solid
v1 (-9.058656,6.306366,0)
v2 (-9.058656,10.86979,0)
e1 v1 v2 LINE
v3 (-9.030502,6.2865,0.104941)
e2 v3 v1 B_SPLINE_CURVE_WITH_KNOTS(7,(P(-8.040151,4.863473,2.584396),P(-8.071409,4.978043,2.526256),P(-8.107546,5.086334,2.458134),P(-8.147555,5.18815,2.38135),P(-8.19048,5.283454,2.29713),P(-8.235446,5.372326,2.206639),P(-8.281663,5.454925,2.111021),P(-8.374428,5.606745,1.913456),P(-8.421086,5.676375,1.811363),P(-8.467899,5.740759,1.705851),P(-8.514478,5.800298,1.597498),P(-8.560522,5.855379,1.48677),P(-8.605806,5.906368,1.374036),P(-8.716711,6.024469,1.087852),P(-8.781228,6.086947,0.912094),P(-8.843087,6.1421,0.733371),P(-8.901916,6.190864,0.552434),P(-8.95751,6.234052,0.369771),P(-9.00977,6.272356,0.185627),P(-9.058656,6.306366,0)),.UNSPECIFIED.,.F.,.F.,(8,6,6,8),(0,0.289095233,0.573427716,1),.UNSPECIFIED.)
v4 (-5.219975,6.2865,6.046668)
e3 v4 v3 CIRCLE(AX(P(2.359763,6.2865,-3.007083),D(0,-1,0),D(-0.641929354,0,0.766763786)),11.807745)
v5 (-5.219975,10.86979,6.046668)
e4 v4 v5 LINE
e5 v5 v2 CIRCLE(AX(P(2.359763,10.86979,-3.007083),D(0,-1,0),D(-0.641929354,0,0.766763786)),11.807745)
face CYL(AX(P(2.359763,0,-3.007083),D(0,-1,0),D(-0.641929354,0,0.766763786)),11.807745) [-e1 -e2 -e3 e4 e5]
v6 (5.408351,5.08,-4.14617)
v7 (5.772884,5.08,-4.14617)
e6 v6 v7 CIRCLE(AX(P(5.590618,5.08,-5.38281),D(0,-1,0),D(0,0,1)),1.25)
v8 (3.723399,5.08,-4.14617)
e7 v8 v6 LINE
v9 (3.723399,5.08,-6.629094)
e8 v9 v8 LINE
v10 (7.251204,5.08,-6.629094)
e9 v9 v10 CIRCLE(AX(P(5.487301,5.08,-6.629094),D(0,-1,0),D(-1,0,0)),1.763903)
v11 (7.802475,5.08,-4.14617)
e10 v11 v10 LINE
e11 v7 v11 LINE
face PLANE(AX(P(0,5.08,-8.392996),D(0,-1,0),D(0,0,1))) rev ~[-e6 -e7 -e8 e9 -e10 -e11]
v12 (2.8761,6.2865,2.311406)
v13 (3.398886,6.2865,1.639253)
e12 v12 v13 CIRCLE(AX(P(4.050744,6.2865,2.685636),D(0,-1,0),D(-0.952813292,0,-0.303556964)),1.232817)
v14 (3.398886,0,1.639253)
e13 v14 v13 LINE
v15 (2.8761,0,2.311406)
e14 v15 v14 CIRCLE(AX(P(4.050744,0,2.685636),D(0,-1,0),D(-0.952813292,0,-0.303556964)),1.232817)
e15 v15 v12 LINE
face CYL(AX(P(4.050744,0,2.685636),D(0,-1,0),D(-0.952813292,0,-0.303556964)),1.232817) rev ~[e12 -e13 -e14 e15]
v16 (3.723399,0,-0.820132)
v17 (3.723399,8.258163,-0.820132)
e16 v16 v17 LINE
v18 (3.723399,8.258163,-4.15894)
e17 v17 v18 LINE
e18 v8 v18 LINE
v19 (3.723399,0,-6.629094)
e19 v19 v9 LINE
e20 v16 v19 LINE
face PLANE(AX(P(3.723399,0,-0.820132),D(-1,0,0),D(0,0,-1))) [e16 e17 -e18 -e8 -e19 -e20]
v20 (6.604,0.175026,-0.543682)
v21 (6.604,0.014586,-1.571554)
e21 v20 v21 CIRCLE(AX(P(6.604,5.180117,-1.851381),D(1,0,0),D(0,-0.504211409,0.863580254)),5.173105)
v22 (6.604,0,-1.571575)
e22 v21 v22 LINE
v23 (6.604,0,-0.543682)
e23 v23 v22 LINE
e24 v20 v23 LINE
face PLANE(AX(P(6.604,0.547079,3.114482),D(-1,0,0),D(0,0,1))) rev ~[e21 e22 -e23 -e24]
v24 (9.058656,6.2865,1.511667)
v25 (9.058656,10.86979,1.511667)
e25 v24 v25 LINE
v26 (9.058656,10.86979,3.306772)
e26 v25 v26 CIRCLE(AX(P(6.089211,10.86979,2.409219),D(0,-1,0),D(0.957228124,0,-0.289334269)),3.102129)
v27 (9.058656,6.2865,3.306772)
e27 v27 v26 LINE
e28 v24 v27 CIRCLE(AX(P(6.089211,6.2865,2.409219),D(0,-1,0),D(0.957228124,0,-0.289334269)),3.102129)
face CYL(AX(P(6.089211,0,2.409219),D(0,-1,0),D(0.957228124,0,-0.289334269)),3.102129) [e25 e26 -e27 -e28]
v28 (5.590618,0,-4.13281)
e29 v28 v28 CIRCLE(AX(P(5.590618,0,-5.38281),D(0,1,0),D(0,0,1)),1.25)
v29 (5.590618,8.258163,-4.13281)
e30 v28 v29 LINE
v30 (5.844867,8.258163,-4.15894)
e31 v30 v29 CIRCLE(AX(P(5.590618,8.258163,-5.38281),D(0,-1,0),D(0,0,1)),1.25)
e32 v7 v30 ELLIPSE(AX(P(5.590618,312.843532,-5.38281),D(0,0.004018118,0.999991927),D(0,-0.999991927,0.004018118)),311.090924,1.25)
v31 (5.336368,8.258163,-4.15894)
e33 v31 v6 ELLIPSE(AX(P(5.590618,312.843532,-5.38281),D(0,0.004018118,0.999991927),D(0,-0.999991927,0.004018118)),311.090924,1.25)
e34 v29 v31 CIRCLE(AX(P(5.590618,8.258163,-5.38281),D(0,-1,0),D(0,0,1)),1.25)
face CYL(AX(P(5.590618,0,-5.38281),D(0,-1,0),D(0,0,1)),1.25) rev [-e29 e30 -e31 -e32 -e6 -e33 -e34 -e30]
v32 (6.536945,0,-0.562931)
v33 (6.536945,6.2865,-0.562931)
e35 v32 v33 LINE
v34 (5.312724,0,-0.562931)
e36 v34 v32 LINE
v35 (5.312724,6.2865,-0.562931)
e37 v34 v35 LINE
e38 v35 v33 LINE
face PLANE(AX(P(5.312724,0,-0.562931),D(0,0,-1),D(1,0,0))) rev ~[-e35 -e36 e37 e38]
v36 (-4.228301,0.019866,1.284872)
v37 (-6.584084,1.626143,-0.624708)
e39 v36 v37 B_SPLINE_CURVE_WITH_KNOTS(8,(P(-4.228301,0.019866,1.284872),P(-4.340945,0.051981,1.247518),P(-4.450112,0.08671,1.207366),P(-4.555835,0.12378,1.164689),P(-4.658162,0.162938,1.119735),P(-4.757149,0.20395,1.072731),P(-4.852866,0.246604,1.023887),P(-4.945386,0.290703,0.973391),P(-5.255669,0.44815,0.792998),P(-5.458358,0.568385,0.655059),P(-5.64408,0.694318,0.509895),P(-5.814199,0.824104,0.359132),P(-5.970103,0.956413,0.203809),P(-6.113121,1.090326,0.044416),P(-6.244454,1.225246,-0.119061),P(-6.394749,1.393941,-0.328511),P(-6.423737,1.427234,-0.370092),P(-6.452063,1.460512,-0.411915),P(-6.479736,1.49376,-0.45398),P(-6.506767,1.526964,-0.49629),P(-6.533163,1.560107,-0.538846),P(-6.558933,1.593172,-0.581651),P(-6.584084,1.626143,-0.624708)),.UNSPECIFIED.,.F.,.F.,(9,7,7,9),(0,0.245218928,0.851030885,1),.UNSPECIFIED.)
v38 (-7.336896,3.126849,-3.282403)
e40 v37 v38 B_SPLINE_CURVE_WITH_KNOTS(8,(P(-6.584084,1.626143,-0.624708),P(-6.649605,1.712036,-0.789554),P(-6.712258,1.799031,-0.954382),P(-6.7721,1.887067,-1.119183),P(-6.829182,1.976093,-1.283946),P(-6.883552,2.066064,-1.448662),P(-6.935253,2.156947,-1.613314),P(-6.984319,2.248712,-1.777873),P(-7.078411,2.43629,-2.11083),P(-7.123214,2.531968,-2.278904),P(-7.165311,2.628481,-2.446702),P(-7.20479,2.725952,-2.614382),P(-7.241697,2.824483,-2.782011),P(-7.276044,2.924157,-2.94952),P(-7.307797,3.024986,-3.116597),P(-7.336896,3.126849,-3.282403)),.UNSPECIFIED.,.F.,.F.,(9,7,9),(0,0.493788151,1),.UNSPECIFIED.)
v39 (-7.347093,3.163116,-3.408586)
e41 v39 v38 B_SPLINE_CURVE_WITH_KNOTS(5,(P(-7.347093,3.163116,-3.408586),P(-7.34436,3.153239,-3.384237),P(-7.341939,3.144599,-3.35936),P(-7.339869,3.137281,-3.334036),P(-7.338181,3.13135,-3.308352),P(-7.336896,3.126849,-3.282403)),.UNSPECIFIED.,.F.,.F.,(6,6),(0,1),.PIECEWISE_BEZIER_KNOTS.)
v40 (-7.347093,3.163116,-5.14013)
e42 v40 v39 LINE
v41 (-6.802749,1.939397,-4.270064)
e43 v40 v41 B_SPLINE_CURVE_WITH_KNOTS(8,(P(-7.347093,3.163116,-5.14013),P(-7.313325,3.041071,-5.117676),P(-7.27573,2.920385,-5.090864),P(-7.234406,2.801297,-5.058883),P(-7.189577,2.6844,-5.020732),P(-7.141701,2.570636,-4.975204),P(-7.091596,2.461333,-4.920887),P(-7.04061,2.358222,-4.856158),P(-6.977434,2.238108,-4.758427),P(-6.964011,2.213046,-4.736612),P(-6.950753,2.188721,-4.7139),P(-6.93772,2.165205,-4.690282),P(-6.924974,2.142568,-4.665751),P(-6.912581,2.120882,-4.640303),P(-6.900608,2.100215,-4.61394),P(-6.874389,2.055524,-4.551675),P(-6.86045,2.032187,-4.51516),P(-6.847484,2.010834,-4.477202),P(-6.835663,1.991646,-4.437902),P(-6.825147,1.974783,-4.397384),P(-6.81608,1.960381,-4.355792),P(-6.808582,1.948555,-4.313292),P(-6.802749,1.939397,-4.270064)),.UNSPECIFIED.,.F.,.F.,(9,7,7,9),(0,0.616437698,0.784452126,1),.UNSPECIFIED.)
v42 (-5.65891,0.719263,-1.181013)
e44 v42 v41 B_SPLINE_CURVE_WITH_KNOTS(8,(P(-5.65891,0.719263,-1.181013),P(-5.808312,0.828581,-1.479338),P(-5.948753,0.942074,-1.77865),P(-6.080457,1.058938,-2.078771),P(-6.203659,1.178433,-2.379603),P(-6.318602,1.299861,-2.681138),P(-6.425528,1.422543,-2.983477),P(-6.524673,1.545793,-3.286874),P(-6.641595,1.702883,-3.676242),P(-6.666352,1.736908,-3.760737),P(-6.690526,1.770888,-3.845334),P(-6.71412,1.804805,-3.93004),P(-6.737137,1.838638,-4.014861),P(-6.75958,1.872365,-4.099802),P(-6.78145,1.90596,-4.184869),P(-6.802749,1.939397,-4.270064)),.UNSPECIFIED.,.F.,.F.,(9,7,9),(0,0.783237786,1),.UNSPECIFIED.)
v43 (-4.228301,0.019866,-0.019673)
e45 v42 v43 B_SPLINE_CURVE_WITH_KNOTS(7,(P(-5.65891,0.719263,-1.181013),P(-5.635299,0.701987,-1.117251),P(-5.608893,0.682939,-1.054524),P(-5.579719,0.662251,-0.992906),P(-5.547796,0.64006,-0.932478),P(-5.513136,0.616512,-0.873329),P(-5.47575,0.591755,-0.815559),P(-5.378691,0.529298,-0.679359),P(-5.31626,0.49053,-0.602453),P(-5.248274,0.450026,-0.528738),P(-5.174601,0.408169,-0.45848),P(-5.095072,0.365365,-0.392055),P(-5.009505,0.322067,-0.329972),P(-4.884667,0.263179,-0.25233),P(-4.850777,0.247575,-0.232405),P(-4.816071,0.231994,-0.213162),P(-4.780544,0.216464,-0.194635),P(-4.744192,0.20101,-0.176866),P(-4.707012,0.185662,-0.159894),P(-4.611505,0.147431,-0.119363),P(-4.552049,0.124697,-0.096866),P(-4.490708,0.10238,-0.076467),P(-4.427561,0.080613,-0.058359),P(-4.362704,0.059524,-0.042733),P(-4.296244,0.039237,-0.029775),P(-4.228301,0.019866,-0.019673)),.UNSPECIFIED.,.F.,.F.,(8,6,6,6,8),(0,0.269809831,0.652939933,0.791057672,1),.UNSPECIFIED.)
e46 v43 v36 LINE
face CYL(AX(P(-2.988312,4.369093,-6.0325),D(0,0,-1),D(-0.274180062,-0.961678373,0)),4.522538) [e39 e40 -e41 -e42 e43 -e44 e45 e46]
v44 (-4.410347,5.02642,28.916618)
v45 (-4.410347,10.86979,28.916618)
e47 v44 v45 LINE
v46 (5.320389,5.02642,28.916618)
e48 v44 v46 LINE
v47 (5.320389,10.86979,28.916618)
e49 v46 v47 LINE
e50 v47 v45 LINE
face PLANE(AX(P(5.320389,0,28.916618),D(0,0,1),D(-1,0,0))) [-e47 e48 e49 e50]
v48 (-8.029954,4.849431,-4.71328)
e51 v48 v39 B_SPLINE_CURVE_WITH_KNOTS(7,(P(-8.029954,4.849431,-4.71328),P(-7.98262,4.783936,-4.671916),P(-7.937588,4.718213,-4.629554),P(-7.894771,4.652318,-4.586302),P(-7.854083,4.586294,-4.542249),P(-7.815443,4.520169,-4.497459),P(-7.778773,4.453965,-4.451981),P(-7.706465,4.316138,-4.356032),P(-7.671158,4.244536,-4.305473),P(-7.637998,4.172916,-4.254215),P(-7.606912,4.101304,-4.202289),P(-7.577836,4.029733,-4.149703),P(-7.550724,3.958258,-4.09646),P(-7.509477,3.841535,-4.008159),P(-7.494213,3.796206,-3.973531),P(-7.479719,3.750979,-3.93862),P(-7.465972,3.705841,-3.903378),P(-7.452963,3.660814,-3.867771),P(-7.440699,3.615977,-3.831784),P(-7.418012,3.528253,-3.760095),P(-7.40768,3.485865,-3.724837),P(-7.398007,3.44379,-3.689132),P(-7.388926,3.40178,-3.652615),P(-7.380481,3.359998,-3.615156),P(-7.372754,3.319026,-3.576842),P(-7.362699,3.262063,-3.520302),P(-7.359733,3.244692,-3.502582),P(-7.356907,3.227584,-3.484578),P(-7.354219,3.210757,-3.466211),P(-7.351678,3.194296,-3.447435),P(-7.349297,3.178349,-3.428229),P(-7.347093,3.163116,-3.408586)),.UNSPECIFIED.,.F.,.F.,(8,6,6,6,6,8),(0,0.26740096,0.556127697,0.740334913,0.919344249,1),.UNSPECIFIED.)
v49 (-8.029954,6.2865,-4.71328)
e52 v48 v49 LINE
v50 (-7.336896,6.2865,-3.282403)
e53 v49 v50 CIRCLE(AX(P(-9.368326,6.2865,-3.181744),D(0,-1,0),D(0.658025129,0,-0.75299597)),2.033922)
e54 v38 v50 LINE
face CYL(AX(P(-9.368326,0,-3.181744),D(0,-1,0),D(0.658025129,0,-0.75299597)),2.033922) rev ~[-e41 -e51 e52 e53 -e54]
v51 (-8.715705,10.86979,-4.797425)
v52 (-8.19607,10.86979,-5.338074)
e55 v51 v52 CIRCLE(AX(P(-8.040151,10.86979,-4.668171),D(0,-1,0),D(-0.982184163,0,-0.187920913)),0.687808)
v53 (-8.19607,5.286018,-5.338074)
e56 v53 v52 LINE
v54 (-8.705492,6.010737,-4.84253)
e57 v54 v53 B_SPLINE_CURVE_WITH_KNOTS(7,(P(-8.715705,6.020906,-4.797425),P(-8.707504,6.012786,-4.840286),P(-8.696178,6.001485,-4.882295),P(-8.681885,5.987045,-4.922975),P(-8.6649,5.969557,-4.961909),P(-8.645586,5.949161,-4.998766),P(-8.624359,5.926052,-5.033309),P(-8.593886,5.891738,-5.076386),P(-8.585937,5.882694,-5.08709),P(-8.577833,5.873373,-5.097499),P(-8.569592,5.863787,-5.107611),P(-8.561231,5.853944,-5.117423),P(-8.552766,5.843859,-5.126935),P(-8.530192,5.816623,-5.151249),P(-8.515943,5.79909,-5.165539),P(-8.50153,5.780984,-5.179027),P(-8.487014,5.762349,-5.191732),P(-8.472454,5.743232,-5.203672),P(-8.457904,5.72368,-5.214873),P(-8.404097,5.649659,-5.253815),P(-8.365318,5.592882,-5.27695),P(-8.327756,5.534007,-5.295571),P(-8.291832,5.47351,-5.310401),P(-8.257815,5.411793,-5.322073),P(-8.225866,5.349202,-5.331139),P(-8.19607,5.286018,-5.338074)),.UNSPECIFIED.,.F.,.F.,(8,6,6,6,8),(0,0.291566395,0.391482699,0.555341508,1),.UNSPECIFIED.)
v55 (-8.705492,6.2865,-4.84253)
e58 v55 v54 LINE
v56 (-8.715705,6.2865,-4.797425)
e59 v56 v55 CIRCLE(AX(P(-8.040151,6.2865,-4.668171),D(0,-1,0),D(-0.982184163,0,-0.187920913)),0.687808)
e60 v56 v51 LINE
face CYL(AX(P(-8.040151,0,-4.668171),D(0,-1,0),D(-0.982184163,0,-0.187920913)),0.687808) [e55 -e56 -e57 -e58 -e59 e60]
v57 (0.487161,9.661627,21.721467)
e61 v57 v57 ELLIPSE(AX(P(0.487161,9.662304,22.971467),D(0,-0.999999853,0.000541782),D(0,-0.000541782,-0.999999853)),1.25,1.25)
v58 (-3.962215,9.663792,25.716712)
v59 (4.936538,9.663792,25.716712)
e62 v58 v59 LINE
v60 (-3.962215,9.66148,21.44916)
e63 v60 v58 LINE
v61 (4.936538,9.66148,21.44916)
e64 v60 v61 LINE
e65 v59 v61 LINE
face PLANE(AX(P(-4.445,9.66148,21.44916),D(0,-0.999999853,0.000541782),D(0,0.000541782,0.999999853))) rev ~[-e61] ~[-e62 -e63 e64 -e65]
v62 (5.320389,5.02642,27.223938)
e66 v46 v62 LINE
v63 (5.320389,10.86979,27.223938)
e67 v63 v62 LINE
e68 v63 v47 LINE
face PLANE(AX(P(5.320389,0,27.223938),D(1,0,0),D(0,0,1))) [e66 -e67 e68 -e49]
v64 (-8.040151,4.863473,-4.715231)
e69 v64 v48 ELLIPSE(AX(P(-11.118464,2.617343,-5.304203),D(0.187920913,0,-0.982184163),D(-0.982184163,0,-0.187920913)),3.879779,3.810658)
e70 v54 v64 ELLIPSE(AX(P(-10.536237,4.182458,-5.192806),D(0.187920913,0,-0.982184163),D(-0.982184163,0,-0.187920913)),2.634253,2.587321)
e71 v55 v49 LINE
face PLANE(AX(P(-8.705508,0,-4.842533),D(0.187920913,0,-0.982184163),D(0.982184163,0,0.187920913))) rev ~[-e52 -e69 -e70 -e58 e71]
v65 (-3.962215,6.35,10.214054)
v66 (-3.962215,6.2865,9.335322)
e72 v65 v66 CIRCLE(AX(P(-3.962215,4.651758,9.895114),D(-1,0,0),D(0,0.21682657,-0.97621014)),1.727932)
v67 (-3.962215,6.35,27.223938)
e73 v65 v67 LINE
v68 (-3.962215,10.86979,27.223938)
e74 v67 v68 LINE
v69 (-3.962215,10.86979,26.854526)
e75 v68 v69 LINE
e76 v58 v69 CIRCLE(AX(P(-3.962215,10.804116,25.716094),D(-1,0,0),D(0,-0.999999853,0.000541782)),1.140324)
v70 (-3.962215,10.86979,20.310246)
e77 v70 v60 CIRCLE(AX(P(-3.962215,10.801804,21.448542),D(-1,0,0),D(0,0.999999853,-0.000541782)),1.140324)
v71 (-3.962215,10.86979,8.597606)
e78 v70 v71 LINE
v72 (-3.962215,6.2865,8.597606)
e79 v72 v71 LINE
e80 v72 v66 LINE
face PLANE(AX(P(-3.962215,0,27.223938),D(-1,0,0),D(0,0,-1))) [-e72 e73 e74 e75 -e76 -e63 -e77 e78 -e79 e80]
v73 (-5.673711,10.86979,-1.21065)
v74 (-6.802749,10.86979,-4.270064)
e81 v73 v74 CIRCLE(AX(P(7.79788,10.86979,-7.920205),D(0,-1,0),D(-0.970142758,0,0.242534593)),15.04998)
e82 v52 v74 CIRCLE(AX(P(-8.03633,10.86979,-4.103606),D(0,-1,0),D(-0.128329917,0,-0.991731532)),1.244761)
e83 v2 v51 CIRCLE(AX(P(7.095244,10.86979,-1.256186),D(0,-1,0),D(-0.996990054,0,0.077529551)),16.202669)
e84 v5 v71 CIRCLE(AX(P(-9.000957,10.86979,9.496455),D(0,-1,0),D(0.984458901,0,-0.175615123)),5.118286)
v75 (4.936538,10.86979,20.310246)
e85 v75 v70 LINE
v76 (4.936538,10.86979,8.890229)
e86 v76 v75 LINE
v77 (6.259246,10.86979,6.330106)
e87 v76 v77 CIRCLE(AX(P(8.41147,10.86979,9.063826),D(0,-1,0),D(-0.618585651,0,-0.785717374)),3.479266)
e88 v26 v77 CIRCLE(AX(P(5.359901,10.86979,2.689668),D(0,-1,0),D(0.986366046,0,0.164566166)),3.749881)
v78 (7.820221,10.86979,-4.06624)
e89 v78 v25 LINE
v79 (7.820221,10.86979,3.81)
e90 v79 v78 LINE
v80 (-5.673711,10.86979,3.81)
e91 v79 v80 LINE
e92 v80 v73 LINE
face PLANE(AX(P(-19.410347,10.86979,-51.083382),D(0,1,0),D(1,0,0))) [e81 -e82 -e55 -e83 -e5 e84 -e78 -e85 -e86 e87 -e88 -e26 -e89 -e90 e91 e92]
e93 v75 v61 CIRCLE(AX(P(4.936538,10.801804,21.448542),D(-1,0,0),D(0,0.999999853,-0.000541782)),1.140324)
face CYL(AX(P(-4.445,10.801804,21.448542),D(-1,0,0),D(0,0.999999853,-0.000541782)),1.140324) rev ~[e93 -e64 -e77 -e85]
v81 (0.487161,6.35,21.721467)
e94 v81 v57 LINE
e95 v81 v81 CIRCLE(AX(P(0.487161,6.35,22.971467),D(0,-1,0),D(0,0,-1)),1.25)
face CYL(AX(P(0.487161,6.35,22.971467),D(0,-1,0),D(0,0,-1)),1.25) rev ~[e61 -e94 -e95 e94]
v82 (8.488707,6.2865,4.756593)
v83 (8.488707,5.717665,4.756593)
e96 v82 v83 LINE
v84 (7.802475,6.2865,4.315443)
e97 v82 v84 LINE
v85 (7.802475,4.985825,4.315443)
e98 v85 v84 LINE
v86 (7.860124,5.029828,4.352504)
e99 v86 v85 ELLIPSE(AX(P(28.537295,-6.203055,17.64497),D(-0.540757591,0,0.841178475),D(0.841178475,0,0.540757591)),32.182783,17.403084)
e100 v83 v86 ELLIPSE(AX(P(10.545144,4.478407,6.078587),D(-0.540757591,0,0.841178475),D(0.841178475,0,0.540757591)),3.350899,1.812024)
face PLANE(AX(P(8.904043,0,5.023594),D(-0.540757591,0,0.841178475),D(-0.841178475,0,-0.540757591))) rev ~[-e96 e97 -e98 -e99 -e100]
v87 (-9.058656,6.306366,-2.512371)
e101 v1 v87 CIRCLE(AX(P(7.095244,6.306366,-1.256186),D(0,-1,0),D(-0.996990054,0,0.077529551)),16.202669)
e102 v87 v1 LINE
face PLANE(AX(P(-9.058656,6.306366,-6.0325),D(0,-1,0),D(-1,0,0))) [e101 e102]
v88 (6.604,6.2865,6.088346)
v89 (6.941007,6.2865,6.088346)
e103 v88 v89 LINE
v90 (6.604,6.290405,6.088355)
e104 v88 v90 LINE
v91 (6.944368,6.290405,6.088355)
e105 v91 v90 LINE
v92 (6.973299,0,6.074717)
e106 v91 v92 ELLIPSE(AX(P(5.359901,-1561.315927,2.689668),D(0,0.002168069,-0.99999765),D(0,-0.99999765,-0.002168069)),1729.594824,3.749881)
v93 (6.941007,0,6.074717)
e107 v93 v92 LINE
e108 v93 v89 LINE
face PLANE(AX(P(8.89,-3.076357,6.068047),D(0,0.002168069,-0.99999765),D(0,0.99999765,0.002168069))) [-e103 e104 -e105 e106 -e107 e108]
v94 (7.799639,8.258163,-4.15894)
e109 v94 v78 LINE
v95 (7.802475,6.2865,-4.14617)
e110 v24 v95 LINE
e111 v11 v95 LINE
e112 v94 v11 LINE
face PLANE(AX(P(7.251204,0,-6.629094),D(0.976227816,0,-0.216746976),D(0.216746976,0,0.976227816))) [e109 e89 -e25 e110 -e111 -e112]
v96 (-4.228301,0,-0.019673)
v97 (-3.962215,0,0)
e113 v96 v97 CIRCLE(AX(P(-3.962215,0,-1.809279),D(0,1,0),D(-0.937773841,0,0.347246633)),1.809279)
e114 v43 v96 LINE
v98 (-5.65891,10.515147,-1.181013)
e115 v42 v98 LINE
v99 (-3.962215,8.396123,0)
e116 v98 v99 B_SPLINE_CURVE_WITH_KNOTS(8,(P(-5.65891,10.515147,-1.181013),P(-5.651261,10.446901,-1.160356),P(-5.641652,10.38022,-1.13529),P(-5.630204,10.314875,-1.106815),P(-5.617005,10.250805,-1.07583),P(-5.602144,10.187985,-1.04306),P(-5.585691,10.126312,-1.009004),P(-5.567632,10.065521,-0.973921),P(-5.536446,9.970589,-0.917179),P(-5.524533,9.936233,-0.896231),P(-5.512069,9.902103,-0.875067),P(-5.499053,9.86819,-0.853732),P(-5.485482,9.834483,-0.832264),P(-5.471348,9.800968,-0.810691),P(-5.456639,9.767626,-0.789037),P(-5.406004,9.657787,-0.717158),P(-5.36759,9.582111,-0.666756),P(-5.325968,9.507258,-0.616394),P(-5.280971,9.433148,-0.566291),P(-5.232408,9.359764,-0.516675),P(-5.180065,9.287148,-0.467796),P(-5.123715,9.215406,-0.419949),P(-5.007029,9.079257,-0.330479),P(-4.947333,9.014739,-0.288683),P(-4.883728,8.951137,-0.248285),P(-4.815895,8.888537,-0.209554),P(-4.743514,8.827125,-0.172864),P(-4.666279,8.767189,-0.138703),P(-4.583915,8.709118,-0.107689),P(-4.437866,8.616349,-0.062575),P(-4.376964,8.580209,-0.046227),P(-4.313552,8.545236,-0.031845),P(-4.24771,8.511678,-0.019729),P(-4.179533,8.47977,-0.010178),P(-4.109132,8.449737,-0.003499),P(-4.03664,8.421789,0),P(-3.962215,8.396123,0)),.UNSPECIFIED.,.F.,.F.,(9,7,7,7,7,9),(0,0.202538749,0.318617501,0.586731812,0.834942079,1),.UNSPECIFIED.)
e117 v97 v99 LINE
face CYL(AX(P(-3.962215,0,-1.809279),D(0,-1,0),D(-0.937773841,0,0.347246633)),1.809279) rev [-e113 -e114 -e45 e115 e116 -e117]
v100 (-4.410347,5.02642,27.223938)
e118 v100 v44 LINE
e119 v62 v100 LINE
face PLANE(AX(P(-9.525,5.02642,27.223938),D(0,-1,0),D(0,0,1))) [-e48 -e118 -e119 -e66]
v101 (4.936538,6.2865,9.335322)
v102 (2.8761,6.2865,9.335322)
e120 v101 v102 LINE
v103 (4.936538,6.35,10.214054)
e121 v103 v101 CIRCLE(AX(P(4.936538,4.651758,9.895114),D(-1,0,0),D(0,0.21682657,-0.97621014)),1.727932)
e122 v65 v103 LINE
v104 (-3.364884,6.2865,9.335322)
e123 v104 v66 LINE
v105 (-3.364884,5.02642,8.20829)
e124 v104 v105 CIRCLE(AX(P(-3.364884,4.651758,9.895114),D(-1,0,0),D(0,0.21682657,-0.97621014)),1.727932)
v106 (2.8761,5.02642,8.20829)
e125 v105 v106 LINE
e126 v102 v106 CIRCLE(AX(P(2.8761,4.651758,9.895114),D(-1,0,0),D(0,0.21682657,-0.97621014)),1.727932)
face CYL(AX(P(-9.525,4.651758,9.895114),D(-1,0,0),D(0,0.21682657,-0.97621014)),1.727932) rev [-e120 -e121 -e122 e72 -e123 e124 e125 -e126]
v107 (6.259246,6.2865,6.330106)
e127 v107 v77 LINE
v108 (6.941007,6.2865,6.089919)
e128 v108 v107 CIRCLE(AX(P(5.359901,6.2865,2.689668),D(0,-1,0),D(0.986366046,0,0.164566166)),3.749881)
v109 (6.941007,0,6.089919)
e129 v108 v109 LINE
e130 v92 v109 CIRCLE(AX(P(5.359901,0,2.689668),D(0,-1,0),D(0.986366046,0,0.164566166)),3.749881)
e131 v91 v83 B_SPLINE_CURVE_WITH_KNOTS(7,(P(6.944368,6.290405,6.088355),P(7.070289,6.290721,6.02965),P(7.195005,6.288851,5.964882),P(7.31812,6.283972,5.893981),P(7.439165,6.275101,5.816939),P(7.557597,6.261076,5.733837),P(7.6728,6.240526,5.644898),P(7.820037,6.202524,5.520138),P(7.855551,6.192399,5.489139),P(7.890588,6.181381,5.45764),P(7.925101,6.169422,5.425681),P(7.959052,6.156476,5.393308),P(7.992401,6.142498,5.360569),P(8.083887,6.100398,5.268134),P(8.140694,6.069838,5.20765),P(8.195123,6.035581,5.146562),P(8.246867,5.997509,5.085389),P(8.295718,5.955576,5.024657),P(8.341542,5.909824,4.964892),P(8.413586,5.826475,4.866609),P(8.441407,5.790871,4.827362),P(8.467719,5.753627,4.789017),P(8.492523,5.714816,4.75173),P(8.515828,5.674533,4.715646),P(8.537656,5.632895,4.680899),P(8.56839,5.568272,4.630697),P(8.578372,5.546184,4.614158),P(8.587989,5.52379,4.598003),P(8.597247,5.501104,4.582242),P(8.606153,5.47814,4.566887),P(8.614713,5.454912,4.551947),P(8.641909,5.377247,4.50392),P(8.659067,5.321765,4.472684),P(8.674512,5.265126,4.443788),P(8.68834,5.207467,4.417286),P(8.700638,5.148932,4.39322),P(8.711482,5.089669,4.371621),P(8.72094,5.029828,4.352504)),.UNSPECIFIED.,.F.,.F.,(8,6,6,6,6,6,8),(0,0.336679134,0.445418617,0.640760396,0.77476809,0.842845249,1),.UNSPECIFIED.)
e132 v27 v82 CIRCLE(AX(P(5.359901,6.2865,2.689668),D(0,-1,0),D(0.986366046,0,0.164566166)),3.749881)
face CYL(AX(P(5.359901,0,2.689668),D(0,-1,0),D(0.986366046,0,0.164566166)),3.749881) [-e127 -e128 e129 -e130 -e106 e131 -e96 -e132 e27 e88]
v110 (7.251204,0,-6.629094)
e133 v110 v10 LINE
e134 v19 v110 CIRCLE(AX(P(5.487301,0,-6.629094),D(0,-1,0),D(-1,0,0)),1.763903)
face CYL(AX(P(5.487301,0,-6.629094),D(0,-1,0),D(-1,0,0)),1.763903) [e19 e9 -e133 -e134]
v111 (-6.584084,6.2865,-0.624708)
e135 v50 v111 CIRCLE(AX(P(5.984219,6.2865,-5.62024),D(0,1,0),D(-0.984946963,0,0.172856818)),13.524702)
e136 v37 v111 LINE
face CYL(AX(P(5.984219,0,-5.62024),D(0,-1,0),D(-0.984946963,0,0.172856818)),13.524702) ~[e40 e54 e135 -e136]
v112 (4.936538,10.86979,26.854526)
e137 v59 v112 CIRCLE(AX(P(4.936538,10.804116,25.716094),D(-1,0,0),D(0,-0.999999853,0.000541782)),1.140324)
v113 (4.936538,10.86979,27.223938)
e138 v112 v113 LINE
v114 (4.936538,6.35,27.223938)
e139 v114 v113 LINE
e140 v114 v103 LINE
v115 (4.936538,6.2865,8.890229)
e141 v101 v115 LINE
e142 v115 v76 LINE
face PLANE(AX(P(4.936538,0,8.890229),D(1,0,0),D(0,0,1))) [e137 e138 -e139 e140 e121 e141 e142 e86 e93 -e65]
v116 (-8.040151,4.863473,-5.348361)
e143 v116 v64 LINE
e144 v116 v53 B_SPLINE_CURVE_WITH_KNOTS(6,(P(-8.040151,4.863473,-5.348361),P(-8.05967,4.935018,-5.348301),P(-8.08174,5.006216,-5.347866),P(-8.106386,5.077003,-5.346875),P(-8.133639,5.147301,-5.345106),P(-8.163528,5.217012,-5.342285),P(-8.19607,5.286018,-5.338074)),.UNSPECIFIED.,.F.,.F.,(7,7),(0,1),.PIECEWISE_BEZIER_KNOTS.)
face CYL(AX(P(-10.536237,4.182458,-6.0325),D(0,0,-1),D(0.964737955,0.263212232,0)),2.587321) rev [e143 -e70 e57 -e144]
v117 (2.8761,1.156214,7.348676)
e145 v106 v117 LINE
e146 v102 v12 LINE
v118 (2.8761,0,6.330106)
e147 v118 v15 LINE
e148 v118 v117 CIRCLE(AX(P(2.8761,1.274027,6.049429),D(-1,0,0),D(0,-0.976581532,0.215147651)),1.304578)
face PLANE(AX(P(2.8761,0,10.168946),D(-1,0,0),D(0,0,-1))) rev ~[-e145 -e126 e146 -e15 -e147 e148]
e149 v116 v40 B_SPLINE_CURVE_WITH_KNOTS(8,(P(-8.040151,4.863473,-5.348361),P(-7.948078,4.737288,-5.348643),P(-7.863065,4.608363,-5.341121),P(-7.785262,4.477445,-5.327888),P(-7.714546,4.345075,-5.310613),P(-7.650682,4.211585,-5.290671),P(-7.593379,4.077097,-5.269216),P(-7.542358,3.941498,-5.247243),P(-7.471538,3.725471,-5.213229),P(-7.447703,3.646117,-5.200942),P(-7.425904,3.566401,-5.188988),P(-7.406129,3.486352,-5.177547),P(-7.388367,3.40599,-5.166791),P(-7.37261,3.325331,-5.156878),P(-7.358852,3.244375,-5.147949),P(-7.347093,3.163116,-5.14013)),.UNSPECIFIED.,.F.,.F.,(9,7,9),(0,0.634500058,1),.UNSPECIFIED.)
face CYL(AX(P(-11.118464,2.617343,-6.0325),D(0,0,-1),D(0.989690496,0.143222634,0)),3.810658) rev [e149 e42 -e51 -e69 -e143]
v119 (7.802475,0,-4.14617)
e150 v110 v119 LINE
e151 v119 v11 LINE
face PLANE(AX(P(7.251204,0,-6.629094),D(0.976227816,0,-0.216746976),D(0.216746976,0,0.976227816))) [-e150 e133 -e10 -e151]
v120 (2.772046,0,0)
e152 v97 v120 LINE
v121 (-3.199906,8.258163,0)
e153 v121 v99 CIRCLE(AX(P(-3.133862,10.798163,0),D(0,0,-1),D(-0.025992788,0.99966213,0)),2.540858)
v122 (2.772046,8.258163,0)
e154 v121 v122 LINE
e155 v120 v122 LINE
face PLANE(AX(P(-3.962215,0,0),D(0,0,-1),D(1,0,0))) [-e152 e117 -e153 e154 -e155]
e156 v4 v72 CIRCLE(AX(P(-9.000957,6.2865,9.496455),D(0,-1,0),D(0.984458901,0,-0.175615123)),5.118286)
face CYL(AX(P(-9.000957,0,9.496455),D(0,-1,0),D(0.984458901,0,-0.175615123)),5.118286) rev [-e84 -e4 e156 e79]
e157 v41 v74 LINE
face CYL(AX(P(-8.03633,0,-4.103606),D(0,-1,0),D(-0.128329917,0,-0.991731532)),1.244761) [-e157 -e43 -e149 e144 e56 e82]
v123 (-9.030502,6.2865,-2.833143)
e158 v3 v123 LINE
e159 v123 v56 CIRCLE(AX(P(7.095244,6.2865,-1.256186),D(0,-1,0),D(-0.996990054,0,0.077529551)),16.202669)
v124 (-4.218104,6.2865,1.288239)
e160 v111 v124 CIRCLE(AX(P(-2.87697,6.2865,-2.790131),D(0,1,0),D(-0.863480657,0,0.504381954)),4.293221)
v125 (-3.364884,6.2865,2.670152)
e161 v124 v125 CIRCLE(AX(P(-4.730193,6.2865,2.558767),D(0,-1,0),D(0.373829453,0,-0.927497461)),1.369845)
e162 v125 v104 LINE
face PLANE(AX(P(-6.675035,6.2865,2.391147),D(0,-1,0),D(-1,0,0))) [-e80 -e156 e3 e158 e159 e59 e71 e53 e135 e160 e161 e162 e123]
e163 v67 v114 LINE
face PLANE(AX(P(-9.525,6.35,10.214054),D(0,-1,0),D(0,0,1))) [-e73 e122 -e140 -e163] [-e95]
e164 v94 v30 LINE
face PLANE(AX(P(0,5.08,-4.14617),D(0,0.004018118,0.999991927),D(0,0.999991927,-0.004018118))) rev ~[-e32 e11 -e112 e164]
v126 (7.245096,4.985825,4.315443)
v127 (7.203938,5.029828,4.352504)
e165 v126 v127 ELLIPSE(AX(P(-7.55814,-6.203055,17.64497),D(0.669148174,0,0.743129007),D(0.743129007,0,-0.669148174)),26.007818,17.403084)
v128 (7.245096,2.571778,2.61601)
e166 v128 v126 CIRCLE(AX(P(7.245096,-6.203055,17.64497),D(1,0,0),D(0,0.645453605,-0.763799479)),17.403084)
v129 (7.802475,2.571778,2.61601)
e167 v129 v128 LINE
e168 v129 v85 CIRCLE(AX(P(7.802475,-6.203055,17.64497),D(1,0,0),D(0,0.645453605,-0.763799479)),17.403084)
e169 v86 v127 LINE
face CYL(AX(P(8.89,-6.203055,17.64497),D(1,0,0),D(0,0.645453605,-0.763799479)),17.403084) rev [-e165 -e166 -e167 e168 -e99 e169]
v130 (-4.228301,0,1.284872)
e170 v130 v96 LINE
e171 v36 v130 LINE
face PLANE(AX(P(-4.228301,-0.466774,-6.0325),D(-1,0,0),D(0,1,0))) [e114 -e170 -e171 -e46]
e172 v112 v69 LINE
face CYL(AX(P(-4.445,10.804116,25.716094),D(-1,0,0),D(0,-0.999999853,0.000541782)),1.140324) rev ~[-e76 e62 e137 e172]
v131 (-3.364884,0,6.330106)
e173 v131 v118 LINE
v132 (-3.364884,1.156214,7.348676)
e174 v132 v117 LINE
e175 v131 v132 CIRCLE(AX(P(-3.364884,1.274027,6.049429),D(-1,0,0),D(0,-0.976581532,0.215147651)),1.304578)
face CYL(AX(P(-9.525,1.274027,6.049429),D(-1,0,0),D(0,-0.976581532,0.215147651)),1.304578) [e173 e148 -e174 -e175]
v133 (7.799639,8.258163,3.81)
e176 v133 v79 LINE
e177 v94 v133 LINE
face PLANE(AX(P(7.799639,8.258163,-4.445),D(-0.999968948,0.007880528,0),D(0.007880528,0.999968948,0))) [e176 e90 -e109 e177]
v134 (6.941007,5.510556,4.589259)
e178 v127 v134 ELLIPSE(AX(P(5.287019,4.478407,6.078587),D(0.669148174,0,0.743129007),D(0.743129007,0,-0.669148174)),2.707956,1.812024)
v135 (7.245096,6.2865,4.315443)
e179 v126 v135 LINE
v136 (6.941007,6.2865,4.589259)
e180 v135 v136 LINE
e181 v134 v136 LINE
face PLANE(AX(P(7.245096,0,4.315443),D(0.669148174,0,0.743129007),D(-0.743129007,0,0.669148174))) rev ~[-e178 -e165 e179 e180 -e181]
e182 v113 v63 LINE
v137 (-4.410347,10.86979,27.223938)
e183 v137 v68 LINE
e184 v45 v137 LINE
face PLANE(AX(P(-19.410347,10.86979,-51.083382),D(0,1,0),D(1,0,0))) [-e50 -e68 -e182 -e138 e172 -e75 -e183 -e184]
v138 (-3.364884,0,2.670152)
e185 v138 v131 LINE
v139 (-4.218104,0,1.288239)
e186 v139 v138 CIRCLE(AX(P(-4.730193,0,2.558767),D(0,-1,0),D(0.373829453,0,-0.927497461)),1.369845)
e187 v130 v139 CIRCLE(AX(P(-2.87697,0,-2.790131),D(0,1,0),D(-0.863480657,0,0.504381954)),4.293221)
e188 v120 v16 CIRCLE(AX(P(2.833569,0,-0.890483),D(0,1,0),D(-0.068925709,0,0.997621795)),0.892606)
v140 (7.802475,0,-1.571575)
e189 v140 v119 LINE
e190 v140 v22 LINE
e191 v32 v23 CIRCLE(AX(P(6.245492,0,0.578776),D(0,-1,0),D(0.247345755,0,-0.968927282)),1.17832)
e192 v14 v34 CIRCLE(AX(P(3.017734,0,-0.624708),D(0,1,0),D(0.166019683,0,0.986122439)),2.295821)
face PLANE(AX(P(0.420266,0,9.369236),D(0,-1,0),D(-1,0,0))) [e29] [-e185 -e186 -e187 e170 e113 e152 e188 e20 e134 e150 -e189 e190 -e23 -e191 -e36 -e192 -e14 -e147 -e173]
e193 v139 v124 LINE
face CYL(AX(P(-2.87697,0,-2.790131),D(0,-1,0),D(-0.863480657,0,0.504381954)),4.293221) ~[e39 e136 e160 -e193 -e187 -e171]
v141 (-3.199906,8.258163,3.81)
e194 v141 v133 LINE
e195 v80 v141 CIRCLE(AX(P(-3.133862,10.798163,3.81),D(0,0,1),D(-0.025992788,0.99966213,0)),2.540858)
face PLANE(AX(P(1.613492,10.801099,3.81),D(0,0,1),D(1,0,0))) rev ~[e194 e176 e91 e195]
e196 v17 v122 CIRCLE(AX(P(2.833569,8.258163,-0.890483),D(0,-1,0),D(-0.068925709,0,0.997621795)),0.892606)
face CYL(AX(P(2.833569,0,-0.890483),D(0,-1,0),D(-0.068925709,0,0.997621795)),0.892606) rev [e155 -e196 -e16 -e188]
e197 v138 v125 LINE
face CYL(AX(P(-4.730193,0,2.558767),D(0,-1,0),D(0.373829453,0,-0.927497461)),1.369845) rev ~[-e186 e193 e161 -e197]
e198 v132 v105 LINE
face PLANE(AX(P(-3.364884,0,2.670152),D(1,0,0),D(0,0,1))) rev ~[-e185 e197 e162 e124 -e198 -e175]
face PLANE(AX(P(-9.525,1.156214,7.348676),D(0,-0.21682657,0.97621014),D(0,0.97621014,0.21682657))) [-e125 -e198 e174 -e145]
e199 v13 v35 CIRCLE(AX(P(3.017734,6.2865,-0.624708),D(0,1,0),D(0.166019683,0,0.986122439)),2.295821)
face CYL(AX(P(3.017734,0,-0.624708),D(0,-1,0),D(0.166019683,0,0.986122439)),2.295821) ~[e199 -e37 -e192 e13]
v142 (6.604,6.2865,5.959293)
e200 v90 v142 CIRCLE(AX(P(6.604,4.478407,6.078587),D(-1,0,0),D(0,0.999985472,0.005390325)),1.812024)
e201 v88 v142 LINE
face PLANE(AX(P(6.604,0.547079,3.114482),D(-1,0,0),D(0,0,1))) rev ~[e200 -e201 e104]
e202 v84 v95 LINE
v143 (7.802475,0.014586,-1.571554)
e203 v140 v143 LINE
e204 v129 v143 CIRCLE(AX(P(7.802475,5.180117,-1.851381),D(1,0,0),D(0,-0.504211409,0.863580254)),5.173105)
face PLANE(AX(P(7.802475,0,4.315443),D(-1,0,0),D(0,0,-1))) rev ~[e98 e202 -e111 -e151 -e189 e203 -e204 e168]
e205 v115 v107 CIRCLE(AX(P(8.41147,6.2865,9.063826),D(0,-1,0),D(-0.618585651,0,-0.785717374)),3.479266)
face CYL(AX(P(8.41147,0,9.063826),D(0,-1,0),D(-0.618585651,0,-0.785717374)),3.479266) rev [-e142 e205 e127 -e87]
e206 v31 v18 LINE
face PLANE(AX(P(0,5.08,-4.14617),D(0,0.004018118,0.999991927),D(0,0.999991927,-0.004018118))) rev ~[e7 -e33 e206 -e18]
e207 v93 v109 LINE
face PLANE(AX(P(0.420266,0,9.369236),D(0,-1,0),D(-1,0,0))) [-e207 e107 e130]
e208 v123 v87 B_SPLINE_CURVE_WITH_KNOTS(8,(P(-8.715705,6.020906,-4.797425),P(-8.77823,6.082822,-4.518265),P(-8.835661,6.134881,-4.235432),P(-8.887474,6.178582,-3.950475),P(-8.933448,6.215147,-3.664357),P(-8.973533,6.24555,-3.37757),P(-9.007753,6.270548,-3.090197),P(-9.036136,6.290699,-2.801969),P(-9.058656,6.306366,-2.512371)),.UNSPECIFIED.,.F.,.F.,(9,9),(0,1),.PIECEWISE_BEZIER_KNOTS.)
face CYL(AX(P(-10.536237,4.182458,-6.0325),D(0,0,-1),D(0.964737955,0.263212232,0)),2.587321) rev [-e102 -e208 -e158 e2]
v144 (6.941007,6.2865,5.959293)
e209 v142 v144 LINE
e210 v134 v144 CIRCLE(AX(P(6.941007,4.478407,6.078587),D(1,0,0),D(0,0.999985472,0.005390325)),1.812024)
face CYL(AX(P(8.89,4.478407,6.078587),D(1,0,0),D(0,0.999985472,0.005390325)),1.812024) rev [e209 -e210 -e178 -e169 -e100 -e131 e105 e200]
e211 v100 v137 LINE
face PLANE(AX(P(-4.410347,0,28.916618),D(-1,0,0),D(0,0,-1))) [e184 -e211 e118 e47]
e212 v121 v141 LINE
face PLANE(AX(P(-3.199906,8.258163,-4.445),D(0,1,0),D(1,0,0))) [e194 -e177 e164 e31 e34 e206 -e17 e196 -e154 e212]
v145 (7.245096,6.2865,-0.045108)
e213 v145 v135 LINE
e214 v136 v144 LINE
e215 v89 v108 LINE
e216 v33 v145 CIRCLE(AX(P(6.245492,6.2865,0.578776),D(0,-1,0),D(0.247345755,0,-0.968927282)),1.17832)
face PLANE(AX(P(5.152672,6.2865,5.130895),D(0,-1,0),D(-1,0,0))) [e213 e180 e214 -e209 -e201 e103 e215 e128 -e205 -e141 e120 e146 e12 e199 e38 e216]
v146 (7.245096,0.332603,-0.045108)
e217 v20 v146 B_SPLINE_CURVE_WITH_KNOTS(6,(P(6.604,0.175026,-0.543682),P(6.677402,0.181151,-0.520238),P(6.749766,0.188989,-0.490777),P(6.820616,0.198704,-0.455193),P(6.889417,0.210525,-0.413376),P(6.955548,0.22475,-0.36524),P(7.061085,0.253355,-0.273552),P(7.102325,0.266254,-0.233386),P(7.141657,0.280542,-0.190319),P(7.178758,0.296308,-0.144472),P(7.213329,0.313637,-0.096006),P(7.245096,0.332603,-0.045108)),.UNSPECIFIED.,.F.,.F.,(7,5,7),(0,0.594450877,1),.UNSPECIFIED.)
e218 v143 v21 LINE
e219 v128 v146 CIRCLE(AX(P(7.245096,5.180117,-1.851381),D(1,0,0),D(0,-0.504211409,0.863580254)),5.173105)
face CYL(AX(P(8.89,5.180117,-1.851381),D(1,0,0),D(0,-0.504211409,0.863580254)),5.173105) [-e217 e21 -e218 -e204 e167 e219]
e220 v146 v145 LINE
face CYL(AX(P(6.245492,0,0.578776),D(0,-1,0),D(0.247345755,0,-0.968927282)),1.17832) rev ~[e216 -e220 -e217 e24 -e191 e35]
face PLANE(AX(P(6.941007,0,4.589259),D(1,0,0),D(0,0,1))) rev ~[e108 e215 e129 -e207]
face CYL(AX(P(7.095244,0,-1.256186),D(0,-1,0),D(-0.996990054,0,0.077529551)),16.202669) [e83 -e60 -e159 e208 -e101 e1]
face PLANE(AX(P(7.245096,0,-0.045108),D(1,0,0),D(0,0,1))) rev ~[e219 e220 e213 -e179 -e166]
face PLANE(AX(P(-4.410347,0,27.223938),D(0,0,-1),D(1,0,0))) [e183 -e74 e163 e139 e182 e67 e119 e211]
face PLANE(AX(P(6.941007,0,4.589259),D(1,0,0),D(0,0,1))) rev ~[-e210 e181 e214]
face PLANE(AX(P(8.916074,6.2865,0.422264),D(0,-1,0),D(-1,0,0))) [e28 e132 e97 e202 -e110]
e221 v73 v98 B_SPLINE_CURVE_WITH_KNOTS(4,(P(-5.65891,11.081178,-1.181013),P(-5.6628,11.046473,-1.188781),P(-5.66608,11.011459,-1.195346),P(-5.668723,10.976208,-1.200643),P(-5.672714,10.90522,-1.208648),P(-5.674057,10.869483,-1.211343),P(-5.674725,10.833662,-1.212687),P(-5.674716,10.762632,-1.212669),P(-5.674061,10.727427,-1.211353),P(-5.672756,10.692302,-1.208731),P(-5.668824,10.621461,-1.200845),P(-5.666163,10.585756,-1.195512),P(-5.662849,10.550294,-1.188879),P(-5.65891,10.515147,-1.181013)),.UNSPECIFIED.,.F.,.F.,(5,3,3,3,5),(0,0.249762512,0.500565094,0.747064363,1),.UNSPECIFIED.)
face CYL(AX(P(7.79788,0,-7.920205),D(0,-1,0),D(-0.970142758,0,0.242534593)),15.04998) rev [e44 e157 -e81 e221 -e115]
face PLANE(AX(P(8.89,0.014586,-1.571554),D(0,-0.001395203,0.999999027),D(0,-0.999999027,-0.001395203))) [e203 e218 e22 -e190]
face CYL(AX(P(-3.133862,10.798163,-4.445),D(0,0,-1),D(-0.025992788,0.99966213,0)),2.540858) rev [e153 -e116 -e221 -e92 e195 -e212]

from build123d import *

# Parameters (mm, degrees)
BOSS_EXTRUDE1_DEPTH      = 431.8
CUT_EXTRUDE1_DEPTH       = 190.5
CUT_EXTRUDE1_DEPTH_BACK  = 190.5
CUT_EXTRUDE2_DEPTH       = 125.73
CUT_EXTRUDE4_DEPTH       = 128.27
CUT_EXTRUDE4_DEPTH_BACK  = 120.65
CUT_EXTRUDE5_DEPTH       = 125.73
CUT_EXTRUDE7_DEPTH       = 161.29
CUT_EXTRUDE8_DEPTH       = 45.72
CUT_EXTRUDE9_DEPTH       = 104.14
CUT_EXTRUDE9_DEPTH_BACK  = 88.9
SKETCH12_R               = 25
CUT_EXTRUDE10_DEPTH      = 431.8
CUT_EXTRUDE11_DEPTH      = 76.2
CUT_EXTRUDE11_DEPTH_BACK = 88.9
SCALE1_SCALE             = 0.05
CUT_EXTRUDE14_DEPTH      = 10
CUT_EXTRUDE14_DEPTH_BACK = 80
SKETCH17_R               = 1.25
CUT_EXTRUDE16_DEPTH      = 10


with BuildPart() as part:
    # Sketch2 → Boss-Extrude1 (new body)
    with BuildSketch(Plane(origin=(0, 0, 0), x_dir=(1, 0, 0), z_dir=(0, 1, 0))):
        with BuildLine():
            Line((-79.244298522, 0), (55.440912384, 0))
            ThreePointArc((55.440912384, 0), (68.327741041, 4.288291197), (74.467971072, 16.4026368))
            Line((74.467971072, 16.4026368), (74.467971072, 72.827707392))
            Line((74.467971072, 72.827707392), (74.467971072, 132.581872657))
            ThreePointArc((74.467971072, 132.581872657), (109.746022134, 167.859923719), (145.024073196, 132.581872657))
            Line((145.024073196, 132.581872657), (181.17312, -30.23334015))
            ThreePointArc((181.17312, -30.23334015), (183.82679773, -48.184385864), (181.17312, -66.135431578))
            ThreePointArc((181.17312, -66.135431578), (162.228077841, -104.747606276), (125.184924058, -126.602111877))
            ThreePointArc((125.184924058, -126.602111877), (106.407786564, -149.335868365), (98.730751427, -177.804582912))
            Line((98.730751427, -177.804582912), (98.730751427, -544.478753158))
            Line((98.730751427, -544.478753158), (106.407786564, -544.478753158))
            Line((106.407786564, -544.478753158), (106.407786564, -578.332354391))
            Line((106.407786564, -578.332354391), (-88.206932207, -578.332354391))
            Line((-88.206932207, -578.332354391), (-88.206932207, -544.478753158))
            Line((-88.206932207, -544.478753158), (-79.244298522, -544.478753158))
            Line((-79.244298522, -544.478753158), (-79.244298522, -171.952122102))
            ThreePointArc((-79.244298522, -171.952122102), (-88.206932207, -144.660352565), (-104.399502705, -120.933360599))
            ThreePointArc((-104.399502705, -120.933360599), (-152.176796458, -66.428157812), (-181.17312, 0))
            ThreePointArc((-181.17312, 0), (-181.323655947, 48.230174732), (-174.314101801, 95.9485))
            ThreePointArc((-174.314101801, 95.9485), (-170.720922927, 102.895856482), (-163.921391124, 106.761482404))
            ThreePointArc((-163.921391124, 106.761482404), (-145.58136446, 101.830499971), (-136.054979803, 85.401283278))
            ThreePointArc((-136.054979803, 85.401283278), (-126.311948352, 53.883000562), (-113.17819392, 23.620262719))
            ThreePointArc((-113.17819392, 23.620262719), (-99.916901574, 6.486425919), (-79.244298522, 0))
        make_face()
    extrude(amount=BOSS_EXTRUDE1_DEPTH)

    # Sketch3 → Cut-Extrude1 (cut, two sides: drawn at the far end of the back side and taken through both)
    with BuildSketch(Plane(origin=(0, 0, 0), x_dir=(0, 0, -1), z_dir=(1, 0, 0)).offset(-CUT_EXTRUDE1_DEPTH_BACK)):
        with BuildLine():
            Line((-204.28108922, 127), (-544.478753158, 127))
            Line((-544.478753158, 127), (-544.478753158, 100.52839733))
            Line((-544.478753158, 100.52839733), (-578.332354391, 100.52839733))
            Line((-578.332354391, 100.52839733), (-578.332354391, 0))
            Line((-578.332354391, 0), (-126.602111877, 0))
            ThreePointArc((-126.602111877, 0), (-140.566602846, 8.233208943), (-146.973522261, 23.12428416))
            Line((-146.973522261, 23.12428416), (-164.165792349, 100.52839733))
            ThreePointArc((-164.165792349, 100.52839733), (-178.868176776, 121.87961231), (-204.28108922, 127))
        make_face()
        with BuildLine():
            Line((-204.28108922, 304.8), (-544.478753158, 304.8))
            Line((-544.478753158, 304.8), (-544.478753158, 331.668917397))
            Line((-544.478753158, 331.668917397), (-578.332354391, 331.668917397))
            Line((-578.332354391, 331.668917397), (-578.332354391, 431.8))
            Line((-578.332354391, 431.8), (-126.602111877, 431.8))
            ThreePointArc((-126.602111877, 431.8), (-140.684053109, 425.838191425), (-146.973522261, 411.89951114))
            Line((-146.973522261, 411.89951114), (-164.165792349, 331.668917397))
            ThreePointArc((-164.165792349, 331.668917397), (-181.197219127, 313.716309403), (-204.28108922, 304.8))
        make_face()
    extrude(amount=CUT_EXTRUDE1_DEPTH + CUT_EXTRUDE1_DEPTH_BACK, mode=Mode.SUBTRACT)

    # Sketch4 → Cut-Extrude2 (cut)
    with BuildSketch(Plane(origin=(0, 431.8, 0), x_dir=(1, 0, 0), z_dir=(0, 1, 0))):
        Polygon((155.84555549, -87.211031478), (155.84555549, 83.841944542), (226.394952987, -1.684543468), (177.876923144, -101.374053541), align=None)
        with BuildLine():
            Line((57.318052164, -164.165792349), (57.318052164, -47.130284905))
            ThreePointArc((57.318052164, -47.130284905), (61.348404683, -39.477358819), (67.773769346, -33.687219957))
            ThreePointArc((67.773769346, -33.687219957), (94.808127688, -18.527489601), (106.050536967, 10.356453845))
            Line((106.050536967, 10.356453845), (130.534952263, 10.356453845))
            ThreePointArc((130.534952263, 10.356453845), (138.616208532, 6.545433697), (144.697974326, 0))
            Line((144.697974326, 0), (144.697974326, -87.211031478))
            Line((144.697974326, -87.211031478), (138.616208532, -92.687338339))
            Line((138.616208532, -92.687338339), (138.616208532, -164.165792349))
            Line((138.616208532, -164.165792349), (138.616208532, -204.28108922))
            Line((138.616208532, -204.28108922), (57.318052164, -204.28108922))
            Line((57.318052164, -204.28108922), (57.318052164, -164.165792349))
        make_face()
        with BuildLine():
            Line((-174.314101801, 95.9485), (-160.803012267, 93.363428502))
            ThreePointArc((-160.803012267, 93.363428502), (-150.960378938, 80.465137541), (-146.941851349, 64.745888939))
            ThreePointArc((-146.941851349, 64.745888939), (-140.774296617, 37.783553429), (-131.885618608, 11.591996185))
            ThreePointArc((-131.885618608, 11.591996185), (-111.728690537, -11.869907513), (-84.566029991, -26.666952706))
            ThreePointArc((-84.566029991, -26.666952706), (-71.496208015, -37.684459203), (-67.501620029, -54.305198138))
            Line((-67.501620029, -54.305198138), (-67.501620029, -164.165792349))
            Line((-67.501620029, -164.165792349), (-67.501620029, -204.28108922))
            Line((-67.501620029, -204.28108922), (-94.807796549, -204.28108922))
            Line((-94.807796549, -204.28108922), (-106.074933908, -164.165792349))
            Line((-106.074933908, -164.165792349), (-212.544008295, 0))
            Line((-212.544008295, 0), (-212.544008295, 95.9485))
            Line((-212.544008295, 95.9485), (-174.314101801, 95.9485))
        make_face()
    extrude(amount=-CUT_EXTRUDE2_DEPTH, mode=Mode.SUBTRACT)

    # Sketch6 → Cut-Extrude4 (cut, two sides: drawn at the far end of the back side and taken through both)
    with BuildSketch(Plane.XY.offset(-CUT_EXTRUDE4_DEPTH_BACK)):
        with BuildLine():
            Line((-181.17312, 306.07), (-200.286673994, 306.07))
            Line((-200.286673994, 306.07), (-200.286673994, 431.8))
            Line((-200.286673994, 431.8), (-84.566029991, 431.8))
            ThreePointArc((-84.566029991, 431.8), (-123.973907642, 408.523503999), (-146.941851349, 368.935))
            ThreePointArc((-146.941851349, 368.935), (-151.793508278, 351.084070168), (-160.803012267, 334.927860566))
            ThreePointArc((-160.803012267, 334.927860566), (-168.44948447, 318.707003198), (-181.17312, 306.07))
        make_face()
        with BuildLine():
            Line((-181.17312, 126.127314727), (-200.286673994, 126.127314727))
            Line((-200.286673994, 126.127314727), (-200.286673994, 0.397314727))
            Line((-200.286673994, 0.397314727), (-200.286673994, -9.335489314))
            Line((-200.286673994, -9.335489314), (-84.566029991, -9.335489314))
            Line((-84.566029991, -9.335489314), (-84.566029991, 0.397314727))
            ThreePointArc((-84.566029991, 0.397314727), (-123.973907642, 23.673810728), (-146.941851349, 63.262314727))
            ThreePointArc((-146.941851349, 63.262314727), (-151.793508278, 81.113244559), (-160.803012267, 97.26945416))
            ThreePointArc((-160.803012267, 97.26945416), (-168.44948447, 113.490311529), (-181.17312, 126.127314727))
        make_face()
    extrude(amount=CUT_EXTRUDE4_DEPTH + CUT_EXTRUDE4_DEPTH_BACK, mode=Mode.SUBTRACT)

    # Sketch7 → Cut-Extrude5 (cut)
    with BuildSketch(Plane(origin=(0, 0, 0), x_dir=(1, 0, 0), z_dir=(0, 1, 0))):
        Polygon((156.049496363, -86.308866012), (156.049496363, 84.744110008), (226.598893859, -0.782378002), (178.080864016, -100.471888075), align=None)
        with BuildLine():
            Line((57.521993037, -163.263626883), (57.521993037, -46.228119439))
            ThreePointArc((57.521993037, -46.228119439), (61.552345555, -38.575193353), (67.977710219, -32.785054491))
            ThreePointArc((67.977710219, -32.785054491), (95.01206856, -17.625324135), (106.25447784, 11.258619311))
            Line((106.25447784, 11.258619311), (130.738893135, 11.258619311))
            ThreePointArc((130.738893135, 11.258619311), (138.820149404, 7.447599163), (144.901915198, 0.902165466))
            Line((144.901915198, 0.902165466), (144.901915198, -86.308866012))
            Line((144.901915198, -86.308866012), (138.820149404, -91.785172873))
            Line((138.820149404, -91.785172873), (138.820149404, -163.263626883))
            Line((138.820149404, -163.263626883), (138.820149404, -203.378923754))
            Line((138.820149404, -203.378923754), (57.521993037, -203.378923754))
            Line((57.521993037, -203.378923754), (57.521993037, -163.263626883))
        make_face()
        with BuildLine():
            Line((-174.110160928, 96.850665466), (-160.599071394, 94.265593968))
            ThreePointArc((-160.599071394, 94.265593968), (-150.756438066, 81.367303007), (-146.737910477, 65.648054405))
            ThreePointArc((-146.737910477, 65.648054405), (-140.570355744, 38.685718895), (-131.681677735, 12.494161651))
            ThreePointArc((-131.681677735, 12.494161651), (-111.524749665, -10.967742047), (-84.362089119, -25.76478724))
            ThreePointArc((-84.362089119, -25.76478724), (-71.292267142, -36.782293737), (-67.297679156, -53.403032672))
            Line((-67.297679156, -53.403032672), (-67.297679156, -163.263626883))
            Line((-67.297679156, -163.263626883), (-67.297679156, -203.378923754))
            Line((-67.297679156, -203.378923754), (-94.603855676, -203.378923754))
            Line((-94.603855676, -203.378923754), (-105.870993035, -163.263626883))
            Line((-105.870993035, -163.263626883), (-212.340067422, 0.902165466))
            Line((-212.340067422, 0.902165466), (-212.340067422, 96.850665466))
            Line((-212.340067422, 96.850665466), (-174.110160928, 96.850665466))
        make_face()
    extrude(amount=CUT_EXTRUDE5_DEPTH, mode=Mode.SUBTRACT)

    # Sketch8 → Cut-Extrude7 (cut)
    with BuildSketch(Plane(origin=(0, 0, 0), x_dir=(0, 0, -1), z_dir=(1, 0, 0))):
        Polygon((167.859923719, 215.9), (167.859923719, 101.6), (82.923395382, 101.6), (83.841944542, 330.2), (167.859923719, 330.2), align=None)
    extrude(amount=CUT_EXTRUDE7_DEPTH, mode=Mode.SUBTRACT)

    # Sketch9 → Cut-Extrude8 (cut)
    with BuildSketch(Plane(origin=(177.8, 0, 0), x_dir=(0, 0, -1), z_dir=(1, 0, 0))):
        with BuildLine():
            Line((31.13006407, 431.8), (31.13006407, 493.405620114))
            Line((31.13006407, 493.405620114), (-121.748062484, 493.405620114))
            Line((-121.748062484, 493.405620114), (-121.892848155, 306.07))
            ThreePointArc((-121.892848155, 306.07), (-100.412110743, 313.016001375), (-87.211031478, 331.329944727))
            ThreePointArc((-87.211031478, 331.329944727), (-68.814678471, 355.183985364), (-52.549790031, 380.539348952))
            ThreePointArc((-52.549790031, 380.539348952), (-17.173940566, 416.721882811), (31.13006407, 431.8))
        make_face()
        with BuildLine():
            Line((-121.360940458, -61.527139811), (-121.767097148, 125.808095964))
            ThreePointArc((-121.767097148, 125.808095964), (-100.276689563, 118.892071333), (-87.050071484, 100.596563986))
            ThreePointArc((-87.050071484, 100.596563986), (-68.62045516, 76.768213208), (-52.320206679, 51.435567114))
            ThreePointArc((-52.320206679, 51.435567114), (-16.893909677, 15.302424951), (31.431084974, 0.291716314))
            Line((31.431084974, 0.291716314), (31.517037301, -61.313843839))
            Line((31.517037301, -61.313843839), (-121.360940458, -61.527139811))
        make_face()
    extrude(amount=-CUT_EXTRUDE8_DEPTH, mode=Mode.SUBTRACT)


with BuildPart() as cut_extrude8_piece_1:
    # of the separate pieces the step leaves, piece 1, a body of its own (cut_extrude8_pieces)
    add(part.part.solids().sort_by_distance((-113.17819392, 14.385260939, -23.620262719))[0])

    # Sketch10 → Cut-Extrude9 (cut, two sides: drawn at the far end of the back side and taken through both)
    with BuildSketch(Plane(origin=(0, 0, 0), x_dir=(0, 0, -1), z_dir=(1, 0, 0)).offset(-CUT_EXTRUDE9_DEPTH_BACK)):
        with BuildLine():
            Line((-428.983201738, 193.229592666), (-514.334244368, 193.275834301))
            ThreePointArc((-514.334244368, 193.275834301), (-537.128372855, 216.094675062), (-514.309532095, 238.888803549))
            Line((-514.309532095, 238.888803549), (-428.958489465, 238.842561914))
            ThreePointArc((-428.958489465, 238.842561914), (-406.164360977, 216.023721154), (-428.983201738, 193.229592666))
        make_face()
    extrude(amount=CUT_EXTRUDE9_DEPTH + CUT_EXTRUDE9_DEPTH_BACK, mode=Mode.SUBTRACT)

    # Sketch12 → Cut-Extrude10 (cut)
    with BuildSketch(Plane(origin=(0, 0, 0), x_dir=(1, 0, 0), z_dir=(0, 1, 0))):
        with Locations(Location((111.812353192, 107.656197962, 0), (0, 0, 270))):
            Circle(SKETCH12_R)
    extrude(amount=CUT_EXTRUDE10_DEPTH, mode=Mode.SUBTRACT)

    # Sketch13 → Cut-Extrude11 (cut, two sides: drawn at the far end of the back side and taken through both)
    with BuildSketch(Plane.XY.offset(-CUT_EXTRUDE11_DEPTH_BACK)):
        with BuildLine():
            Line((156.793476245, 266.763254357), (-63.998127701, 266.763254357))
            ThreePointArc((-63.998127701, 266.763254357), (-113.494417347, 215.963254357), (-63.998127701, 165.163254357))
            Line((-63.998127701, 165.163254357), (155.992789689, 165.163254357))
            Line((155.992789689, 165.163254357), (156.793476245, 266.763254357))
        make_face()
    extrude(amount=CUT_EXTRUDE11_DEPTH + CUT_EXTRUDE11_DEPTH_BACK, mode=Mode.SUBTRACT)


with BuildPart() as cut_extrude8_piece_2:
    # of the separate pieces the step leaves, piece 2, a body of its own (cut_extrude8_pieces)
    add(part.part.solids().sort_by_distance((138.825981411, 431.8, 121.795675485))[0])


with BuildPart() as cut_extrude8_piece_1_1:
    # Scale1: scaled about (0, 0, 0)
    add(cut_extrude8_piece_1.part.scale(SCALE1_SCALE))


with BuildPart() as cut_extrude8_piece_2_1:
    # Scale1: scaled about (0, 0, 0)
    add(cut_extrude8_piece_2.part.scale(SCALE1_SCALE))


with BuildPart() as cut_extrude14_tool:
    # Sketch15 → Cut-Extrude14 (new, two sides: drawn at the far end of the back side and taken through both)
    with BuildSketch(Plane.XY.offset(28.91661772).offset(-CUT_EXTRUDE14_DEPTH_BACK)):
        Polygon((-19.41034661, 10.869789513), (25.58965339, 10.869789513), (25.58965339, 45.642776715), (-19.41034661, 47.662845319), align=None)
    extrude(amount=CUT_EXTRUDE14_DEPTH + CUT_EXTRUDE14_DEPTH_BACK)


with BuildPart() as cut_extrude8_piece_1_2:
    add(cut_extrude8_piece_1_1.part)

    # Cut-Extrude14: cut by cut_extrude14_tool
    add(cut_extrude14_tool.part, mode=Mode.SUBTRACT)

    # Sketch17 → Cut-Extrude16 (cut)
    with BuildSketch(Plane.XZ.offset(-6.35)):
        with Locations(Location((0.487161323, 22.971466859, 0), (0, 0, 270))):
            Circle(SKETCH17_R)
    extrude(amount=-CUT_EXTRUDE16_DEPTH, mode=Mode.SUBTRACT)


with BuildPart() as cut_extrude8_piece_2_2:
    add(cut_extrude8_piece_2_1.part)

    # Cut-Extrude14: cut by cut_extrude14_tool
    add(cut_extrude14_tool.part, mode=Mode.SUBTRACT)


solid = cut_extrude8_piece_1_2.part
